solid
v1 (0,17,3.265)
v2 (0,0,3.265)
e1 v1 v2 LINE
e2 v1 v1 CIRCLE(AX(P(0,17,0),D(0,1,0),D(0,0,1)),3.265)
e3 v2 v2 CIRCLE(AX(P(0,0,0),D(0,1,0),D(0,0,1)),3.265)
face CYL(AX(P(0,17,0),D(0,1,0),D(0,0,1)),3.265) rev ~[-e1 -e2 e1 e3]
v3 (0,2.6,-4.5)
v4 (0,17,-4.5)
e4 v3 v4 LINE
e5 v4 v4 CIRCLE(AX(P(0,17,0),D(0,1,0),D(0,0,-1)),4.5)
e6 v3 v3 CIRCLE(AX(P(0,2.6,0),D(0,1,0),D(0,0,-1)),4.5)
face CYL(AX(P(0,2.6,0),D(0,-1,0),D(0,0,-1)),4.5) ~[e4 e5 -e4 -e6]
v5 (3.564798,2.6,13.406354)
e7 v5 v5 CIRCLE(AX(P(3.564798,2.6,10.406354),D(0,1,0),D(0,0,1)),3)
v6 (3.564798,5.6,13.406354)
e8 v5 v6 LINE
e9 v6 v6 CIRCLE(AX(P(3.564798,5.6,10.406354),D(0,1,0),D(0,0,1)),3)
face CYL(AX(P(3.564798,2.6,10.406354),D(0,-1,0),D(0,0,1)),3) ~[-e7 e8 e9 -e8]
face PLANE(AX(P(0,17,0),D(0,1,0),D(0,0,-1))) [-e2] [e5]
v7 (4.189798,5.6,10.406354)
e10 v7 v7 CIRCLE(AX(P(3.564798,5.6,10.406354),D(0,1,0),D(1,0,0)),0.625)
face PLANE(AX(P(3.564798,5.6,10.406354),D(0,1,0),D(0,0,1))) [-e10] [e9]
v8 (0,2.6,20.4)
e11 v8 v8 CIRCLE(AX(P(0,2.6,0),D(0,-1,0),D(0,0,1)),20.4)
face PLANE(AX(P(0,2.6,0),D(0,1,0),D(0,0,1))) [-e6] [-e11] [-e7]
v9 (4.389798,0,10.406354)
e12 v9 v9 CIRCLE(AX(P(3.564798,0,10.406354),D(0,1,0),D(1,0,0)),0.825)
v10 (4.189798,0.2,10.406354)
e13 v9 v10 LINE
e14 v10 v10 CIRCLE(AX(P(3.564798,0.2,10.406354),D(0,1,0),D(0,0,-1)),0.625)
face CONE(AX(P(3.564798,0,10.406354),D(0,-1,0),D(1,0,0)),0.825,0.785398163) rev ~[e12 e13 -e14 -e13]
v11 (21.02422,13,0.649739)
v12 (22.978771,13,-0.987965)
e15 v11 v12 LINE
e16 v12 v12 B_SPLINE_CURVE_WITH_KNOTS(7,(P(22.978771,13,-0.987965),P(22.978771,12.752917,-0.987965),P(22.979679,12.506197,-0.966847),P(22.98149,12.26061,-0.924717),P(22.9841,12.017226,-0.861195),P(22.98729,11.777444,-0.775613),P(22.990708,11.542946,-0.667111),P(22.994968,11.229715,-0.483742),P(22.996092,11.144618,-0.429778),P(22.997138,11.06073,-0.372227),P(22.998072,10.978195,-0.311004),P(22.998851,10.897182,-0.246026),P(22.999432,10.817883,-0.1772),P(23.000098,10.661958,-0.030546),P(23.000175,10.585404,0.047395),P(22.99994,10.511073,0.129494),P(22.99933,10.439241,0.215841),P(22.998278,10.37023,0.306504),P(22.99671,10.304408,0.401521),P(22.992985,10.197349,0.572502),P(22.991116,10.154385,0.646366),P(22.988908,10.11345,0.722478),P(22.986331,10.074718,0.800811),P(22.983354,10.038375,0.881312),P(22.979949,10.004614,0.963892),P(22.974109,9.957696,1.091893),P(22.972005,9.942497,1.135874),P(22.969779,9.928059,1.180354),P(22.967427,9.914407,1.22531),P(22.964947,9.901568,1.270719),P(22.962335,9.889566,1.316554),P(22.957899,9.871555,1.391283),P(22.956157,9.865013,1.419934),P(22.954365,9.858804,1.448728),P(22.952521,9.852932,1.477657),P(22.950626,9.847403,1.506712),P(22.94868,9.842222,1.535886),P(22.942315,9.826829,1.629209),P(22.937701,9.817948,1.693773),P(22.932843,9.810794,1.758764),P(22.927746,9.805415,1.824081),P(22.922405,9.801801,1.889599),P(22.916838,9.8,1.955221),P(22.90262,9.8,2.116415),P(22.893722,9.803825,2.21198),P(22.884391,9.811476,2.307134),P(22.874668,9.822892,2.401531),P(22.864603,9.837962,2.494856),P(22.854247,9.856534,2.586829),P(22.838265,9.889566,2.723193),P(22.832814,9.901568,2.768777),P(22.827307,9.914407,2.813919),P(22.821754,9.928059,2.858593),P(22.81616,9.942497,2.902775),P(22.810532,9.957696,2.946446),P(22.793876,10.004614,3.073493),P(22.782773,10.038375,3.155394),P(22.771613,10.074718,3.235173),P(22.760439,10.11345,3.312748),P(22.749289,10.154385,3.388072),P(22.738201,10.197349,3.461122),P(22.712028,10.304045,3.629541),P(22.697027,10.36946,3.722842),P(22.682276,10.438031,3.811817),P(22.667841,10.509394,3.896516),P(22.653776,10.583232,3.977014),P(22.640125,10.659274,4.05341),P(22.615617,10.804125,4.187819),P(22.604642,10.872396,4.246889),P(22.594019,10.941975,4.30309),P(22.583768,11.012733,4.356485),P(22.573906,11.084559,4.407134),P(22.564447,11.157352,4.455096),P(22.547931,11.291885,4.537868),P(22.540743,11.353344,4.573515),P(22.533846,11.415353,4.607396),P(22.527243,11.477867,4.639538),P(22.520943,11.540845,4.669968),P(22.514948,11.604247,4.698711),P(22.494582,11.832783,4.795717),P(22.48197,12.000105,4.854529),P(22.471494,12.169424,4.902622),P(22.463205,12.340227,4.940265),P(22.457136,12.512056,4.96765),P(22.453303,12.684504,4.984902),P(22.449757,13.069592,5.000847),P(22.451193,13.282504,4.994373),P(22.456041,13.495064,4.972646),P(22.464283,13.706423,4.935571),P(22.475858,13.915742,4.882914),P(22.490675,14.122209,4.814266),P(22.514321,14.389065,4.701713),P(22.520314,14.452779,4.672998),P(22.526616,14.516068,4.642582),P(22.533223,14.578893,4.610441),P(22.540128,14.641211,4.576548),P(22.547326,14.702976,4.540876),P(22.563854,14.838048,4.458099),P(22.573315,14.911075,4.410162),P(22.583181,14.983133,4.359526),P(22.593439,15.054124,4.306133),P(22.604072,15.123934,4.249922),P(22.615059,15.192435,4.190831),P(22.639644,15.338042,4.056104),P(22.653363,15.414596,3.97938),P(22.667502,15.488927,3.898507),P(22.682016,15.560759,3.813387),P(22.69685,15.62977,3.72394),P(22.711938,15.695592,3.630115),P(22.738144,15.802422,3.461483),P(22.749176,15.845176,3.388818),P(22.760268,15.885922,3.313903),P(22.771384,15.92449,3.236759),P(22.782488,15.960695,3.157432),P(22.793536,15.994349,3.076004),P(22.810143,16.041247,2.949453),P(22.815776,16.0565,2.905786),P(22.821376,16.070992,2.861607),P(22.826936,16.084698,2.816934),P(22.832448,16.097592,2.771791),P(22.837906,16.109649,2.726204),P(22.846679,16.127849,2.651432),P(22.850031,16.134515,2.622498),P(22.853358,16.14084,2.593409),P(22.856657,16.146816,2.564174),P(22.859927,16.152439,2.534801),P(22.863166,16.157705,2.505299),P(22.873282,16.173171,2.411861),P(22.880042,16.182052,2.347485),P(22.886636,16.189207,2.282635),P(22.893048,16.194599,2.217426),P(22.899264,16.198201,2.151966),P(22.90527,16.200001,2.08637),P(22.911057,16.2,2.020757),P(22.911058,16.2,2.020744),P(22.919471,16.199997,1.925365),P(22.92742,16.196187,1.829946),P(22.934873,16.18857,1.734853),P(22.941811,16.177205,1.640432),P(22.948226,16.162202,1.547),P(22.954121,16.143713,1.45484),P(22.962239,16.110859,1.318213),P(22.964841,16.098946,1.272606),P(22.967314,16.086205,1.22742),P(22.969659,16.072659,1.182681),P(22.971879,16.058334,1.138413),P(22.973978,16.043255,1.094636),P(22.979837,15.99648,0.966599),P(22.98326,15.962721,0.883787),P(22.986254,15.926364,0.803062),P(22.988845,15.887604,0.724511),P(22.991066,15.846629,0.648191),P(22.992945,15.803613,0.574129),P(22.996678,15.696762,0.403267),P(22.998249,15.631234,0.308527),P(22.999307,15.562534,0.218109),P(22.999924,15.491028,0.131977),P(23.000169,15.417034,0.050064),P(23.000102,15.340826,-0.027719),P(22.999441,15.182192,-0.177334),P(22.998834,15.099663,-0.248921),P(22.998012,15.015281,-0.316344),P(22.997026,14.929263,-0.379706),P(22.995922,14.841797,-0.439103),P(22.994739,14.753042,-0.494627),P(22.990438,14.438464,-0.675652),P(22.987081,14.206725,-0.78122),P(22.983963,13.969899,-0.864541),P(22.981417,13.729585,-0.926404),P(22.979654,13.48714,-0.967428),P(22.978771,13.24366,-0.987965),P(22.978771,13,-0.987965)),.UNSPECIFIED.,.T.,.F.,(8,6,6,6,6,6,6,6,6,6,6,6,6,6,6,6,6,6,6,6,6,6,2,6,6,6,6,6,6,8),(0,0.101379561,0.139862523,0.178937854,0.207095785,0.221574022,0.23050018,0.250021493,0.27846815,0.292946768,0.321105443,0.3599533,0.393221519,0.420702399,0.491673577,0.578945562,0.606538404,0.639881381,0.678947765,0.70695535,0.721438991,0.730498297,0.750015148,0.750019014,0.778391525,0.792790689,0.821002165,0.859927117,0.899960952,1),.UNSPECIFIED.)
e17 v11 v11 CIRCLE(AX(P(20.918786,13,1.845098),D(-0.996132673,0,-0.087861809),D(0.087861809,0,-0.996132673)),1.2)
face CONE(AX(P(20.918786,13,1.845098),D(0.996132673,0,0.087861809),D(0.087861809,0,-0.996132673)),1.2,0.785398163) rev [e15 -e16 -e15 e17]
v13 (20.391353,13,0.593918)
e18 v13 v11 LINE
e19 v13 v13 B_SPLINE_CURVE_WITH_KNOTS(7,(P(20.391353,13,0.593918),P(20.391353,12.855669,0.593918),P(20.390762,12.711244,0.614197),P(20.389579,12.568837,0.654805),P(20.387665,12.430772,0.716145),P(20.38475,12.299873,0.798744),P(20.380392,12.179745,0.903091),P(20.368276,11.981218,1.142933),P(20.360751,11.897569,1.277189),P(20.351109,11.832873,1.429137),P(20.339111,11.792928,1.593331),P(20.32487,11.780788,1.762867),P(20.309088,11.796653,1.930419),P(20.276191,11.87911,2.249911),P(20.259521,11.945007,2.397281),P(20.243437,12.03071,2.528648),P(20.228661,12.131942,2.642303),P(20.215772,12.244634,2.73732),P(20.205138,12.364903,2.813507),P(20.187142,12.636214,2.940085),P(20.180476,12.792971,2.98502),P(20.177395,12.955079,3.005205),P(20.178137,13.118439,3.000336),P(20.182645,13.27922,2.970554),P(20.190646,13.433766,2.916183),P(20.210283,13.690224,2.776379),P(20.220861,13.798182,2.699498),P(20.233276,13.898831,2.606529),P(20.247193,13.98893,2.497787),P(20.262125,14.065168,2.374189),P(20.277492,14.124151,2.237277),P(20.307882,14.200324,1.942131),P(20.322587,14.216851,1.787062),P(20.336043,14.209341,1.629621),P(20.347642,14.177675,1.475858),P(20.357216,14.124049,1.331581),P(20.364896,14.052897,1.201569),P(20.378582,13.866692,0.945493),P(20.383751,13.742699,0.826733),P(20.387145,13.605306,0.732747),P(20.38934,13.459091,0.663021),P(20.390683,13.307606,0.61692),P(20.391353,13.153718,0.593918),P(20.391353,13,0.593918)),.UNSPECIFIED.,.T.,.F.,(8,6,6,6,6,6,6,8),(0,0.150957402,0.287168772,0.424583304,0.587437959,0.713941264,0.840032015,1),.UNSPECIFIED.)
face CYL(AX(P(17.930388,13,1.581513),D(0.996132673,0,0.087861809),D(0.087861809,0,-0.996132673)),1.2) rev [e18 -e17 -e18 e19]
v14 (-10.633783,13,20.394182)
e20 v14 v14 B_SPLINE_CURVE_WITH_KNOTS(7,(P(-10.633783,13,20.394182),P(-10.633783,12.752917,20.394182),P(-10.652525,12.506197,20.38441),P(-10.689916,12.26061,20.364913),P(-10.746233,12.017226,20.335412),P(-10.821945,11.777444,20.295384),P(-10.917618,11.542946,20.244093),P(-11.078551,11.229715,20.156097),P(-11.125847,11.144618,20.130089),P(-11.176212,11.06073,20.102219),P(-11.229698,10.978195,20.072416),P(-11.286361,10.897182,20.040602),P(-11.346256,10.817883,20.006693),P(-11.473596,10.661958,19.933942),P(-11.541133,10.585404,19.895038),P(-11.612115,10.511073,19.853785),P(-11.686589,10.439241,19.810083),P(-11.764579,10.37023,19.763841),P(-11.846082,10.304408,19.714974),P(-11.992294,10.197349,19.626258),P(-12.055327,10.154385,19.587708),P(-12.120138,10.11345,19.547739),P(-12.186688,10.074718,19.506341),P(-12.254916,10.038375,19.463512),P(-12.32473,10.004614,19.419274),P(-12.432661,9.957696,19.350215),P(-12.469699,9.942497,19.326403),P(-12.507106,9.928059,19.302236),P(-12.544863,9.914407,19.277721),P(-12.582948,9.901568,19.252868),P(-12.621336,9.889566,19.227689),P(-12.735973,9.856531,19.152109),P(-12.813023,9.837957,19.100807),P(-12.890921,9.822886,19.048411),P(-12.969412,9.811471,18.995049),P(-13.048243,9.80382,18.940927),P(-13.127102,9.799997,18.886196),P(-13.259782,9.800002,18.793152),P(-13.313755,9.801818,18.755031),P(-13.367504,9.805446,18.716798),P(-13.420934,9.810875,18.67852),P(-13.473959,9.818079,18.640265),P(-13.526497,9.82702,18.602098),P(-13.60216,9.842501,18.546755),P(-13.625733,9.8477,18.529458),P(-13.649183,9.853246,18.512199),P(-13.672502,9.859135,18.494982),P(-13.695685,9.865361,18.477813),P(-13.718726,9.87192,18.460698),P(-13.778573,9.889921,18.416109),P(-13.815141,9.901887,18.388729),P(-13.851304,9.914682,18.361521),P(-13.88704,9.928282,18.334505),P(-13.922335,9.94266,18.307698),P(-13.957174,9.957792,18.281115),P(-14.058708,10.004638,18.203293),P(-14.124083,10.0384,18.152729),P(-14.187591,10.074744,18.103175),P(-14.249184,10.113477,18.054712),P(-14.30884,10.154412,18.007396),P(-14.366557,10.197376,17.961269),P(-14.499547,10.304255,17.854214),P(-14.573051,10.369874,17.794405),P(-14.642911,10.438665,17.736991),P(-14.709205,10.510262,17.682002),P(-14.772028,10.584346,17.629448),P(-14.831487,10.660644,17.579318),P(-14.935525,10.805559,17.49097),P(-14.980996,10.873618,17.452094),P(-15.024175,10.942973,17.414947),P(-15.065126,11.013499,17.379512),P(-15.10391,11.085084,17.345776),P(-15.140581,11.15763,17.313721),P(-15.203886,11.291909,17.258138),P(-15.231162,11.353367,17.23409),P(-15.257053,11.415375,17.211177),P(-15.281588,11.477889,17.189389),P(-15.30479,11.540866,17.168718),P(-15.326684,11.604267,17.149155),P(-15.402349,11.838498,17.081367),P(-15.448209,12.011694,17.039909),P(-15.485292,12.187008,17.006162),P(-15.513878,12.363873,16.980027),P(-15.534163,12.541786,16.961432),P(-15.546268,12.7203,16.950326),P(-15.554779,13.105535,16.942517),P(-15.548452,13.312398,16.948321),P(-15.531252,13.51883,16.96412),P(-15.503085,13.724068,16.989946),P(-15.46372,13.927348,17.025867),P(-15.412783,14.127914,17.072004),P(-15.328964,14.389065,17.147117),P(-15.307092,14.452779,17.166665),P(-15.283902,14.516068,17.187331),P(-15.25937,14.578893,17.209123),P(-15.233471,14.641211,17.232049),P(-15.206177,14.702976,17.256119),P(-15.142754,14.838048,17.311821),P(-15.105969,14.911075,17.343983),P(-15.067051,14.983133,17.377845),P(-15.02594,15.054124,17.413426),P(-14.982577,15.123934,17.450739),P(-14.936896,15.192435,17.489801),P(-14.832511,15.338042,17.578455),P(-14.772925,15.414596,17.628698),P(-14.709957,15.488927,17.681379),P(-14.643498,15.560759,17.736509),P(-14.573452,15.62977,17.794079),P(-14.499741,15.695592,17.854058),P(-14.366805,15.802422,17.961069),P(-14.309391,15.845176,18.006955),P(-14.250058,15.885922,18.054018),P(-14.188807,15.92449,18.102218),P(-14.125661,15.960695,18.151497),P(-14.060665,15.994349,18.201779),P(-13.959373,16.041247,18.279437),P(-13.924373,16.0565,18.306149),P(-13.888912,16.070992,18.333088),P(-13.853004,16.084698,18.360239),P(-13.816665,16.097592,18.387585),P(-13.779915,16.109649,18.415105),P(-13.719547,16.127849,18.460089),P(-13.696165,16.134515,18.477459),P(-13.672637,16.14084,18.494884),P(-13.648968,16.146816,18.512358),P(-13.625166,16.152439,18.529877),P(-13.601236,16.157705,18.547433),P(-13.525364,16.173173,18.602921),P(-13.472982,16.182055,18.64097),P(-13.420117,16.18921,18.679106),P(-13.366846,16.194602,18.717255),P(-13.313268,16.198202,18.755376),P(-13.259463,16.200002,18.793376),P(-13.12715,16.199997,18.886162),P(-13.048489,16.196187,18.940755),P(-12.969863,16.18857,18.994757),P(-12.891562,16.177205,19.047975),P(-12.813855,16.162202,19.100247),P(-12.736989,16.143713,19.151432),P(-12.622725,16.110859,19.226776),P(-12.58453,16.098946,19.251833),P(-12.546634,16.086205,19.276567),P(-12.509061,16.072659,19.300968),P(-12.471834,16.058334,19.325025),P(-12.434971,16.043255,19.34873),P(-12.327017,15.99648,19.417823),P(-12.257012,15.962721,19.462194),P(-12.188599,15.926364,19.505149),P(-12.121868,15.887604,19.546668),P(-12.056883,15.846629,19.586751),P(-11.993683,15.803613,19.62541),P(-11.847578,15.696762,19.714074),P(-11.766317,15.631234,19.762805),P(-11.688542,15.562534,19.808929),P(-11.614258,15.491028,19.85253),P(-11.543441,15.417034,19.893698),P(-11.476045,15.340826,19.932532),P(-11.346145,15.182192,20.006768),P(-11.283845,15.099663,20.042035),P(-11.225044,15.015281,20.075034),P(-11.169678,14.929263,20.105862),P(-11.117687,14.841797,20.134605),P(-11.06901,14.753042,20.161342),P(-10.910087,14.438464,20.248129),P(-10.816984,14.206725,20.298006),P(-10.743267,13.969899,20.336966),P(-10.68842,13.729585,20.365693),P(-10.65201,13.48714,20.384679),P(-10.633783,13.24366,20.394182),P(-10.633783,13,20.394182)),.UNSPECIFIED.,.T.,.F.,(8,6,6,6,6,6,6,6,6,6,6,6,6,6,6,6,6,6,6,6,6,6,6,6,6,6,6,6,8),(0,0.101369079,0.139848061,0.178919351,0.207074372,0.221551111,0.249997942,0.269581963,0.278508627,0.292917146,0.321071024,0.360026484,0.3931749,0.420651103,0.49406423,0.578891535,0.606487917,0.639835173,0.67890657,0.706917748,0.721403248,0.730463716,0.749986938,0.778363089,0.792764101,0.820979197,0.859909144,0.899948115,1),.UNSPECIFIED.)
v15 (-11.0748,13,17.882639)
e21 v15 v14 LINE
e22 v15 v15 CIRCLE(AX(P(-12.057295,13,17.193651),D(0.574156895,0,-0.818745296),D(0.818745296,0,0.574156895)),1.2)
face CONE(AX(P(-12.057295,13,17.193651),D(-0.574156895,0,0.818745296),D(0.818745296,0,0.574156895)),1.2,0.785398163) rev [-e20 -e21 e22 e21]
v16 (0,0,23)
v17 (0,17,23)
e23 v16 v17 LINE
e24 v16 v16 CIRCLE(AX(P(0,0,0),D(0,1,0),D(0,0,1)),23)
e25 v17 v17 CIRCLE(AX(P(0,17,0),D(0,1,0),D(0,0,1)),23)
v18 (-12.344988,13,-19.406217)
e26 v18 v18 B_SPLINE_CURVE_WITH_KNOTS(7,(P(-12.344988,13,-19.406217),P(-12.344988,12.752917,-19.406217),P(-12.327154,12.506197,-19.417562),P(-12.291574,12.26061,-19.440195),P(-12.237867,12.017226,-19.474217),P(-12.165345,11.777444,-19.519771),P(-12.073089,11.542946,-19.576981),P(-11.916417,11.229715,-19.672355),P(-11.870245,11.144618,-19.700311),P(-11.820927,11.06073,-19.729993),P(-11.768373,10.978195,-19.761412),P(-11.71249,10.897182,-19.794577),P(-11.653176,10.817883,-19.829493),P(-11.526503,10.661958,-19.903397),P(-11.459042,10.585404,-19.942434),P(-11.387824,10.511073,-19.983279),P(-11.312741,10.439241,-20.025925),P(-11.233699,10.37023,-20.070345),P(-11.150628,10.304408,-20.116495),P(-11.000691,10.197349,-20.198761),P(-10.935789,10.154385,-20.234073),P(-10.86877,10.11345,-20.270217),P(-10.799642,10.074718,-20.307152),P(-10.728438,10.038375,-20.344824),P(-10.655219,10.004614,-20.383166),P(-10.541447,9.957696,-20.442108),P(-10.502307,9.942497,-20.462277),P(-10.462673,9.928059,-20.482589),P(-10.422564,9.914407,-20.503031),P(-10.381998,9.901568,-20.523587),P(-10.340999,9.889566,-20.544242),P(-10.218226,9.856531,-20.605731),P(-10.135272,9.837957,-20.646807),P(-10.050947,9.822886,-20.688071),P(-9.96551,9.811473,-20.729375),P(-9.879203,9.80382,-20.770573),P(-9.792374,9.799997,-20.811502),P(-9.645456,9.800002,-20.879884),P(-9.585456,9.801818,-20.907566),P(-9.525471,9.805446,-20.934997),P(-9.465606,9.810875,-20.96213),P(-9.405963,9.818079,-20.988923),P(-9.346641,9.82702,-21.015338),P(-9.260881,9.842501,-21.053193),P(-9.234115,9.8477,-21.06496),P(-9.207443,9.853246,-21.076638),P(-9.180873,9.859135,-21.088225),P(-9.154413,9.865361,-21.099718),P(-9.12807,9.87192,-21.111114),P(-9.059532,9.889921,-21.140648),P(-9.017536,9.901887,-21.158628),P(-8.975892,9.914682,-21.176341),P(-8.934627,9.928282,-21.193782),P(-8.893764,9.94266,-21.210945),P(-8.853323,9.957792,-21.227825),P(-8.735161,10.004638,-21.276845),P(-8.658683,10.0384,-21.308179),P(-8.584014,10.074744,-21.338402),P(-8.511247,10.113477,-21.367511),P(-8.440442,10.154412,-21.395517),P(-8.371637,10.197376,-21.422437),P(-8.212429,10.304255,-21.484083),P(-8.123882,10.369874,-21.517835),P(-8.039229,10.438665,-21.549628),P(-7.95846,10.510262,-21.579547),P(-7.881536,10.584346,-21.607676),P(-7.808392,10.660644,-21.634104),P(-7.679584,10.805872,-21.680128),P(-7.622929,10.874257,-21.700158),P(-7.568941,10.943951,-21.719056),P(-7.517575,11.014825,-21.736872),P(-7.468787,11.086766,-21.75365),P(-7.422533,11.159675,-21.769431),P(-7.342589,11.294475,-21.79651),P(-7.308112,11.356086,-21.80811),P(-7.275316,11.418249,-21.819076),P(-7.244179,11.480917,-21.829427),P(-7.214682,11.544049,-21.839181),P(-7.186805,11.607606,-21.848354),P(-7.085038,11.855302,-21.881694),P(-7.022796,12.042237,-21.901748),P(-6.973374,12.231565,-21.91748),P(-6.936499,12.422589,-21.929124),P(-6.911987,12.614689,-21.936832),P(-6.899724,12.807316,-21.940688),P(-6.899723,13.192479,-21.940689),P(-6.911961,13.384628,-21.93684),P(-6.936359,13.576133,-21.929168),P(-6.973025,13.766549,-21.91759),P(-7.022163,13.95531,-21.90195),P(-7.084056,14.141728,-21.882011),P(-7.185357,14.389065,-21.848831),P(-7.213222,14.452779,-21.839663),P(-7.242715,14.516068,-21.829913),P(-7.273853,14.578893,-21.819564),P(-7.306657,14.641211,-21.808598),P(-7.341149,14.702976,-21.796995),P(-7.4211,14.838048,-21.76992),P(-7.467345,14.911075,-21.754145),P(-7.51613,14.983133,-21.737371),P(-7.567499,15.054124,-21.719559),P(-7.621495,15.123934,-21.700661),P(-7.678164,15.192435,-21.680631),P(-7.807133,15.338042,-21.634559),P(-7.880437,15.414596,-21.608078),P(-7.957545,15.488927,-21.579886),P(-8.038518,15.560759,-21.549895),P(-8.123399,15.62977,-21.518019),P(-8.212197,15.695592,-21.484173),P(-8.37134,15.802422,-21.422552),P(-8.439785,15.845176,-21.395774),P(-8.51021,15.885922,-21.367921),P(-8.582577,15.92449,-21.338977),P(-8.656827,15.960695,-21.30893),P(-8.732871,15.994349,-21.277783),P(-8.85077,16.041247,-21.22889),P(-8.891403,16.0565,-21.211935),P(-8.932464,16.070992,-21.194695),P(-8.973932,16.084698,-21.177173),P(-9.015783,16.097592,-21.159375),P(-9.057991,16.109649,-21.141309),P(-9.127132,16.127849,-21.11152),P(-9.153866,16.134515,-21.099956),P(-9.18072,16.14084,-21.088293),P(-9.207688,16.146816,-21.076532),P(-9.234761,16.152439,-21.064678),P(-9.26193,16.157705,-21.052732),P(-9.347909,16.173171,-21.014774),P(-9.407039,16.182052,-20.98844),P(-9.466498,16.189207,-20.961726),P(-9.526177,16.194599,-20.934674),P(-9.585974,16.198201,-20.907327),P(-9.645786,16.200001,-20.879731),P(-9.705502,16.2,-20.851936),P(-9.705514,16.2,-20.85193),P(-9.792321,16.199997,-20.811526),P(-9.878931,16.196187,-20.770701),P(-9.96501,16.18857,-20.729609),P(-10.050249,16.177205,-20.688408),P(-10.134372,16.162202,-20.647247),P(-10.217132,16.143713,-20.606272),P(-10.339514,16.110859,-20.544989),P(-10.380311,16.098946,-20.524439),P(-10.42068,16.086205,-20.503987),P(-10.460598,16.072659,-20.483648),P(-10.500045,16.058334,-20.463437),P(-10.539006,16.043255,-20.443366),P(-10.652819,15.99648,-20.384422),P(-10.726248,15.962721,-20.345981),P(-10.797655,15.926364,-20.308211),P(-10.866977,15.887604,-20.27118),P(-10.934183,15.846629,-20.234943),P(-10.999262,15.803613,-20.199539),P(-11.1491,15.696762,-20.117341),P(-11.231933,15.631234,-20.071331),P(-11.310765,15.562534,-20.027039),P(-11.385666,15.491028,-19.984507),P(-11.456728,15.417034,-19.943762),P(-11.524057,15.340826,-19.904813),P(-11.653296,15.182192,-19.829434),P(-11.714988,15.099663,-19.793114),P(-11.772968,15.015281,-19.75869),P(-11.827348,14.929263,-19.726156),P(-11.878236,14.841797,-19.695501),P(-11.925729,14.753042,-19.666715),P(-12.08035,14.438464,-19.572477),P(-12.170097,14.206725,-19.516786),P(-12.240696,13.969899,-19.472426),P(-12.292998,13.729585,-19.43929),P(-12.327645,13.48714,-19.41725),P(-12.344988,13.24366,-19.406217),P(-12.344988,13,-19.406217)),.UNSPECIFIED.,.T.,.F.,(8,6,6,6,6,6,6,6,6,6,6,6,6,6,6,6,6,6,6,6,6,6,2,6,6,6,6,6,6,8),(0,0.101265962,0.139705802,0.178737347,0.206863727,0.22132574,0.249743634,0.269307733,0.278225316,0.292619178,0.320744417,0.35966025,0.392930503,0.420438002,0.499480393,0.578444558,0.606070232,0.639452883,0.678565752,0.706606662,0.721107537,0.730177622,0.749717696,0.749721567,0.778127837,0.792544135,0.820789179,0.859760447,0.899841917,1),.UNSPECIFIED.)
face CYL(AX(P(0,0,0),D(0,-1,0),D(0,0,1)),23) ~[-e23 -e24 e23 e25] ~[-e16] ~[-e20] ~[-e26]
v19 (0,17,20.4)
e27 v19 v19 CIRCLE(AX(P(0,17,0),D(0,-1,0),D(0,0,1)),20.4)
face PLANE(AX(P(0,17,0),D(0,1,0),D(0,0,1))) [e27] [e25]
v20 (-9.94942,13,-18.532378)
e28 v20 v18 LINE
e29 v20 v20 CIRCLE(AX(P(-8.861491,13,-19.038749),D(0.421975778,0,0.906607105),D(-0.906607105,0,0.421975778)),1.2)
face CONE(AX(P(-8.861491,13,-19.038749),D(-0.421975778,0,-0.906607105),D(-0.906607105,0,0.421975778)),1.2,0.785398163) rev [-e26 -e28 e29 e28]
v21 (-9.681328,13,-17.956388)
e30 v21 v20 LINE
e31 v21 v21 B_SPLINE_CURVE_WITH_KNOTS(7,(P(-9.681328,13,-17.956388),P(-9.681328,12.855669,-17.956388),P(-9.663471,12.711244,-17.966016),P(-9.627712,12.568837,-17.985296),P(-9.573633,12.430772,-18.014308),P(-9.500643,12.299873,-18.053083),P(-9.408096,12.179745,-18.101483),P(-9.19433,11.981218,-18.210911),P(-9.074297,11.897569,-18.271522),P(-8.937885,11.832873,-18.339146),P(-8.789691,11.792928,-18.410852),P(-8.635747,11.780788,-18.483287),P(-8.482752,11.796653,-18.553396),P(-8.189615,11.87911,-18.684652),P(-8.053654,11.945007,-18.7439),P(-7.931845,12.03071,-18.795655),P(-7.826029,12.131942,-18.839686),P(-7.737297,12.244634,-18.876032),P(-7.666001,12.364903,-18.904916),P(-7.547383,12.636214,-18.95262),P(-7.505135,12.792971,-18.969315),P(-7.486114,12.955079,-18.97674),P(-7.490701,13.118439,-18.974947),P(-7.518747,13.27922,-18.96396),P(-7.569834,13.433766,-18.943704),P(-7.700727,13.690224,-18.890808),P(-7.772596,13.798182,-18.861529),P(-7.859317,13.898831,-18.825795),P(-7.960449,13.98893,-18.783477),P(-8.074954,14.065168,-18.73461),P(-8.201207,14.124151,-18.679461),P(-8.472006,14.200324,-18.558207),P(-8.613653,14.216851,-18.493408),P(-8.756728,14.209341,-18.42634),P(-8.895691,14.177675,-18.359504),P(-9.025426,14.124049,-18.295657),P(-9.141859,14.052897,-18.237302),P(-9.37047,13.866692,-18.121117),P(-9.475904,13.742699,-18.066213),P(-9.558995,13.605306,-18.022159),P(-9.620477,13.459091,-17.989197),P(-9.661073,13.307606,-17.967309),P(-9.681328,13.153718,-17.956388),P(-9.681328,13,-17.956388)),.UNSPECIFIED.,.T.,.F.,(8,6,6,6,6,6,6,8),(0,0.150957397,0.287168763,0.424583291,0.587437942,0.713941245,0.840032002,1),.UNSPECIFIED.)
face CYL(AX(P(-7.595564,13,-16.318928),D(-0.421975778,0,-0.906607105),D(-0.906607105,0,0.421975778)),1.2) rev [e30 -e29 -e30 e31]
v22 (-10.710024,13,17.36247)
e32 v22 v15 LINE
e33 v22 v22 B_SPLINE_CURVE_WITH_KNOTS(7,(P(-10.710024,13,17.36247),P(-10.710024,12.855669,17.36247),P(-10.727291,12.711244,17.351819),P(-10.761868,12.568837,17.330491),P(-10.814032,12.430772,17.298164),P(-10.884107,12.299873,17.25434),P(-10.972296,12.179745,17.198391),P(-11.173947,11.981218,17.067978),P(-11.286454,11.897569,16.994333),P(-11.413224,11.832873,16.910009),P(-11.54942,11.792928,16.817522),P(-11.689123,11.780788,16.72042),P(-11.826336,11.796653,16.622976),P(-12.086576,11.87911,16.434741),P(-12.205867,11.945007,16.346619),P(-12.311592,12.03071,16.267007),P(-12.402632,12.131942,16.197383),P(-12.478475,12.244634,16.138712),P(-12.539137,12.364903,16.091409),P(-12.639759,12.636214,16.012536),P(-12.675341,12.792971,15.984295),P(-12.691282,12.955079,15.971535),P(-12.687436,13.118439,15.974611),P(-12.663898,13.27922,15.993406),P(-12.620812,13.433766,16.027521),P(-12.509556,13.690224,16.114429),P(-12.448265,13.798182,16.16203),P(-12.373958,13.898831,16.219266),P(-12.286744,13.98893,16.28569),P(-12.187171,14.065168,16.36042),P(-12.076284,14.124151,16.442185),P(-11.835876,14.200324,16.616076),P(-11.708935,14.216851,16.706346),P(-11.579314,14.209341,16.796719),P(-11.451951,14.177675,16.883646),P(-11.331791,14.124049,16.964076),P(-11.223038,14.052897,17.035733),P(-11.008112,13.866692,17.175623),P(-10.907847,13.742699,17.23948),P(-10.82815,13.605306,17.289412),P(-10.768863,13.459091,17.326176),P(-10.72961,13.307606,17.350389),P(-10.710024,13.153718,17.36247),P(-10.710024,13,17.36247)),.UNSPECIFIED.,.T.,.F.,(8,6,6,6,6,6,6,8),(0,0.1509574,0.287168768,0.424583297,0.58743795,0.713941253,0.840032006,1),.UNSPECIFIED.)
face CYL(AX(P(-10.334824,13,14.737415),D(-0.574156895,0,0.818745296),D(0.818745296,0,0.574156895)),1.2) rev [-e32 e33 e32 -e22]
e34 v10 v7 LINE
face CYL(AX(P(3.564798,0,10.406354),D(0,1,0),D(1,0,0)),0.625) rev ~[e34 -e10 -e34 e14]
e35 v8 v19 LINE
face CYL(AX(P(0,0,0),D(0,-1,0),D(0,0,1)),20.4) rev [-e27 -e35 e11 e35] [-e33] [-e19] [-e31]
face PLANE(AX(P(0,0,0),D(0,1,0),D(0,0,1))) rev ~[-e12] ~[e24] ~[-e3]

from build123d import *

# Parameters (mm, degrees)
SKETCH1_R                     = 23
BOSS_EXTRUDE1_DEPTH           = 17
SHELL1_T                      = -2.6
SKETCH4_R                     = 4.5
BOSS_EXTRUDE3_DEPTH           = 14.4
SKETCH5_R                     = 3.265
CUT_EXTRUDE2_DEPTH            = 37.701498607
CIRPATTERN1_COUNT             = 3
SKETCH14_R                    = 3
BOSS_EXTRUDE7_DEPTH           = 3
M1_6_TAPPED_HOLE1_D           = 1.25
M1_6_TAPPED_HOLE1_CSINK_D     = 1.65
M1_6_TAPPED_HOLE1_CSINK_ANGLE = 90


with BuildPart() as part:
    # Sketch1 → Boss-Extrude1 (new body)
    with BuildSketch(Plane(origin=(0, 0, 0), x_dir=(1, 0, 0), z_dir=(0, 1, 0))):
        with Locations(Location((0, 0, 0), (0, 0, 270))):
            Circle(SKETCH1_R)
    extrude(amount=BOSS_EXTRUDE1_DEPTH)

    # Shell1
    shell1_openings = [part.faces().sort_by_distance(p)[0] for p in [
        (0, 17, 0),
    ]]
    offset(amount=SHELL1_T, openings=shell1_openings, kind=Kind.INTERSECTION)

    # Sketch4 → Boss-Extrude3 (add)
    with BuildSketch(Plane(origin=(0, 2.6, 0), x_dir=(1, 0, 0), z_dir=(0, 1, 0))):
        with Locations(Location((0, 0, 0), (0, 0, 90))):
            Circle(SKETCH4_R)
    extrude(amount=BOSS_EXTRUDE3_DEPTH)

    # Sketch5 → Cut-Extrude2 (cut, through all)
    with BuildSketch(Plane(origin=(0, 17, 0), x_dir=(1, 0, 0), z_dir=(0, 1, 0))):
        with Locations(Location((0, 0, 0), (0, 0, 270))):
            Circle(SKETCH5_R)
    extrude(amount=-CUT_EXTRUDE2_DEPTH, mode=Mode.SUBTRACT)

    # Sketch9 → CSK SLOT for M2 Countersunk Flat Head Screw1 (revolve, cut)
    with BuildSketch(Plane(origin=(22.911051483, 13, 2.020821599), x_dir=(0.08786180866791495, 0, -0.9961326731804369), z_dir=(0, 1, 0))):
        Polygon((0, 0), (0, 5.721032743), (1.2, 5), (1.2, 2), (3.2, 0), align=None)
    csk_slot_for_m2_countersunk_flat_head_sc = revolve(axis=Axis((29.236493958, 13, 2.578744084), (-0.9961326731804366, 0, -0.08786180866791493)), mode=Mode.SUBTRACT)

    # CirPattern1: CSK SLOT for M2 Countersunk Flat Head Screw1 ×3 about axis
    cirpattern1_axis = Axis((0, 17, 0), (0, -1, 0))
    for i in range(1, CIRPATTERN1_COUNT):
        add(csk_slot_for_m2_countersunk_flat_head_sc.rotate(cirpattern1_axis, i * 360 / CIRPATTERN1_COUNT), mode=Mode.SUBTRACT)

    # Sketch14 → Boss-Extrude7 (add)
    with BuildSketch(Plane(origin=(0, 2.6, 0), x_dir=(1, 0, 0), z_dir=(0, 1, 0))):
        with Locations(Location((3.564798354, -10.406354438, 0), (0, 0, 270))):
            Circle(SKETCH14_R)
    extrude(amount=BOSS_EXTRUDE7_DEPTH)

    # M1.6 Tapped Hole1 (through all)
    with Locations(Plane(origin=(0, 0, 0), x_dir=(-1, 0, 0), z_dir=(0, -1, 0))):
        with Locations((-3.564798354, -10.406354438)):
            CounterSinkHole(M1_6_TAPPED_HOLE1_D / 2, M1_6_TAPPED_HOLE1_CSINK_D / 2, counter_sink_angle=M1_6_TAPPED_HOLE1_CSINK_ANGLE)


solid = part.part
